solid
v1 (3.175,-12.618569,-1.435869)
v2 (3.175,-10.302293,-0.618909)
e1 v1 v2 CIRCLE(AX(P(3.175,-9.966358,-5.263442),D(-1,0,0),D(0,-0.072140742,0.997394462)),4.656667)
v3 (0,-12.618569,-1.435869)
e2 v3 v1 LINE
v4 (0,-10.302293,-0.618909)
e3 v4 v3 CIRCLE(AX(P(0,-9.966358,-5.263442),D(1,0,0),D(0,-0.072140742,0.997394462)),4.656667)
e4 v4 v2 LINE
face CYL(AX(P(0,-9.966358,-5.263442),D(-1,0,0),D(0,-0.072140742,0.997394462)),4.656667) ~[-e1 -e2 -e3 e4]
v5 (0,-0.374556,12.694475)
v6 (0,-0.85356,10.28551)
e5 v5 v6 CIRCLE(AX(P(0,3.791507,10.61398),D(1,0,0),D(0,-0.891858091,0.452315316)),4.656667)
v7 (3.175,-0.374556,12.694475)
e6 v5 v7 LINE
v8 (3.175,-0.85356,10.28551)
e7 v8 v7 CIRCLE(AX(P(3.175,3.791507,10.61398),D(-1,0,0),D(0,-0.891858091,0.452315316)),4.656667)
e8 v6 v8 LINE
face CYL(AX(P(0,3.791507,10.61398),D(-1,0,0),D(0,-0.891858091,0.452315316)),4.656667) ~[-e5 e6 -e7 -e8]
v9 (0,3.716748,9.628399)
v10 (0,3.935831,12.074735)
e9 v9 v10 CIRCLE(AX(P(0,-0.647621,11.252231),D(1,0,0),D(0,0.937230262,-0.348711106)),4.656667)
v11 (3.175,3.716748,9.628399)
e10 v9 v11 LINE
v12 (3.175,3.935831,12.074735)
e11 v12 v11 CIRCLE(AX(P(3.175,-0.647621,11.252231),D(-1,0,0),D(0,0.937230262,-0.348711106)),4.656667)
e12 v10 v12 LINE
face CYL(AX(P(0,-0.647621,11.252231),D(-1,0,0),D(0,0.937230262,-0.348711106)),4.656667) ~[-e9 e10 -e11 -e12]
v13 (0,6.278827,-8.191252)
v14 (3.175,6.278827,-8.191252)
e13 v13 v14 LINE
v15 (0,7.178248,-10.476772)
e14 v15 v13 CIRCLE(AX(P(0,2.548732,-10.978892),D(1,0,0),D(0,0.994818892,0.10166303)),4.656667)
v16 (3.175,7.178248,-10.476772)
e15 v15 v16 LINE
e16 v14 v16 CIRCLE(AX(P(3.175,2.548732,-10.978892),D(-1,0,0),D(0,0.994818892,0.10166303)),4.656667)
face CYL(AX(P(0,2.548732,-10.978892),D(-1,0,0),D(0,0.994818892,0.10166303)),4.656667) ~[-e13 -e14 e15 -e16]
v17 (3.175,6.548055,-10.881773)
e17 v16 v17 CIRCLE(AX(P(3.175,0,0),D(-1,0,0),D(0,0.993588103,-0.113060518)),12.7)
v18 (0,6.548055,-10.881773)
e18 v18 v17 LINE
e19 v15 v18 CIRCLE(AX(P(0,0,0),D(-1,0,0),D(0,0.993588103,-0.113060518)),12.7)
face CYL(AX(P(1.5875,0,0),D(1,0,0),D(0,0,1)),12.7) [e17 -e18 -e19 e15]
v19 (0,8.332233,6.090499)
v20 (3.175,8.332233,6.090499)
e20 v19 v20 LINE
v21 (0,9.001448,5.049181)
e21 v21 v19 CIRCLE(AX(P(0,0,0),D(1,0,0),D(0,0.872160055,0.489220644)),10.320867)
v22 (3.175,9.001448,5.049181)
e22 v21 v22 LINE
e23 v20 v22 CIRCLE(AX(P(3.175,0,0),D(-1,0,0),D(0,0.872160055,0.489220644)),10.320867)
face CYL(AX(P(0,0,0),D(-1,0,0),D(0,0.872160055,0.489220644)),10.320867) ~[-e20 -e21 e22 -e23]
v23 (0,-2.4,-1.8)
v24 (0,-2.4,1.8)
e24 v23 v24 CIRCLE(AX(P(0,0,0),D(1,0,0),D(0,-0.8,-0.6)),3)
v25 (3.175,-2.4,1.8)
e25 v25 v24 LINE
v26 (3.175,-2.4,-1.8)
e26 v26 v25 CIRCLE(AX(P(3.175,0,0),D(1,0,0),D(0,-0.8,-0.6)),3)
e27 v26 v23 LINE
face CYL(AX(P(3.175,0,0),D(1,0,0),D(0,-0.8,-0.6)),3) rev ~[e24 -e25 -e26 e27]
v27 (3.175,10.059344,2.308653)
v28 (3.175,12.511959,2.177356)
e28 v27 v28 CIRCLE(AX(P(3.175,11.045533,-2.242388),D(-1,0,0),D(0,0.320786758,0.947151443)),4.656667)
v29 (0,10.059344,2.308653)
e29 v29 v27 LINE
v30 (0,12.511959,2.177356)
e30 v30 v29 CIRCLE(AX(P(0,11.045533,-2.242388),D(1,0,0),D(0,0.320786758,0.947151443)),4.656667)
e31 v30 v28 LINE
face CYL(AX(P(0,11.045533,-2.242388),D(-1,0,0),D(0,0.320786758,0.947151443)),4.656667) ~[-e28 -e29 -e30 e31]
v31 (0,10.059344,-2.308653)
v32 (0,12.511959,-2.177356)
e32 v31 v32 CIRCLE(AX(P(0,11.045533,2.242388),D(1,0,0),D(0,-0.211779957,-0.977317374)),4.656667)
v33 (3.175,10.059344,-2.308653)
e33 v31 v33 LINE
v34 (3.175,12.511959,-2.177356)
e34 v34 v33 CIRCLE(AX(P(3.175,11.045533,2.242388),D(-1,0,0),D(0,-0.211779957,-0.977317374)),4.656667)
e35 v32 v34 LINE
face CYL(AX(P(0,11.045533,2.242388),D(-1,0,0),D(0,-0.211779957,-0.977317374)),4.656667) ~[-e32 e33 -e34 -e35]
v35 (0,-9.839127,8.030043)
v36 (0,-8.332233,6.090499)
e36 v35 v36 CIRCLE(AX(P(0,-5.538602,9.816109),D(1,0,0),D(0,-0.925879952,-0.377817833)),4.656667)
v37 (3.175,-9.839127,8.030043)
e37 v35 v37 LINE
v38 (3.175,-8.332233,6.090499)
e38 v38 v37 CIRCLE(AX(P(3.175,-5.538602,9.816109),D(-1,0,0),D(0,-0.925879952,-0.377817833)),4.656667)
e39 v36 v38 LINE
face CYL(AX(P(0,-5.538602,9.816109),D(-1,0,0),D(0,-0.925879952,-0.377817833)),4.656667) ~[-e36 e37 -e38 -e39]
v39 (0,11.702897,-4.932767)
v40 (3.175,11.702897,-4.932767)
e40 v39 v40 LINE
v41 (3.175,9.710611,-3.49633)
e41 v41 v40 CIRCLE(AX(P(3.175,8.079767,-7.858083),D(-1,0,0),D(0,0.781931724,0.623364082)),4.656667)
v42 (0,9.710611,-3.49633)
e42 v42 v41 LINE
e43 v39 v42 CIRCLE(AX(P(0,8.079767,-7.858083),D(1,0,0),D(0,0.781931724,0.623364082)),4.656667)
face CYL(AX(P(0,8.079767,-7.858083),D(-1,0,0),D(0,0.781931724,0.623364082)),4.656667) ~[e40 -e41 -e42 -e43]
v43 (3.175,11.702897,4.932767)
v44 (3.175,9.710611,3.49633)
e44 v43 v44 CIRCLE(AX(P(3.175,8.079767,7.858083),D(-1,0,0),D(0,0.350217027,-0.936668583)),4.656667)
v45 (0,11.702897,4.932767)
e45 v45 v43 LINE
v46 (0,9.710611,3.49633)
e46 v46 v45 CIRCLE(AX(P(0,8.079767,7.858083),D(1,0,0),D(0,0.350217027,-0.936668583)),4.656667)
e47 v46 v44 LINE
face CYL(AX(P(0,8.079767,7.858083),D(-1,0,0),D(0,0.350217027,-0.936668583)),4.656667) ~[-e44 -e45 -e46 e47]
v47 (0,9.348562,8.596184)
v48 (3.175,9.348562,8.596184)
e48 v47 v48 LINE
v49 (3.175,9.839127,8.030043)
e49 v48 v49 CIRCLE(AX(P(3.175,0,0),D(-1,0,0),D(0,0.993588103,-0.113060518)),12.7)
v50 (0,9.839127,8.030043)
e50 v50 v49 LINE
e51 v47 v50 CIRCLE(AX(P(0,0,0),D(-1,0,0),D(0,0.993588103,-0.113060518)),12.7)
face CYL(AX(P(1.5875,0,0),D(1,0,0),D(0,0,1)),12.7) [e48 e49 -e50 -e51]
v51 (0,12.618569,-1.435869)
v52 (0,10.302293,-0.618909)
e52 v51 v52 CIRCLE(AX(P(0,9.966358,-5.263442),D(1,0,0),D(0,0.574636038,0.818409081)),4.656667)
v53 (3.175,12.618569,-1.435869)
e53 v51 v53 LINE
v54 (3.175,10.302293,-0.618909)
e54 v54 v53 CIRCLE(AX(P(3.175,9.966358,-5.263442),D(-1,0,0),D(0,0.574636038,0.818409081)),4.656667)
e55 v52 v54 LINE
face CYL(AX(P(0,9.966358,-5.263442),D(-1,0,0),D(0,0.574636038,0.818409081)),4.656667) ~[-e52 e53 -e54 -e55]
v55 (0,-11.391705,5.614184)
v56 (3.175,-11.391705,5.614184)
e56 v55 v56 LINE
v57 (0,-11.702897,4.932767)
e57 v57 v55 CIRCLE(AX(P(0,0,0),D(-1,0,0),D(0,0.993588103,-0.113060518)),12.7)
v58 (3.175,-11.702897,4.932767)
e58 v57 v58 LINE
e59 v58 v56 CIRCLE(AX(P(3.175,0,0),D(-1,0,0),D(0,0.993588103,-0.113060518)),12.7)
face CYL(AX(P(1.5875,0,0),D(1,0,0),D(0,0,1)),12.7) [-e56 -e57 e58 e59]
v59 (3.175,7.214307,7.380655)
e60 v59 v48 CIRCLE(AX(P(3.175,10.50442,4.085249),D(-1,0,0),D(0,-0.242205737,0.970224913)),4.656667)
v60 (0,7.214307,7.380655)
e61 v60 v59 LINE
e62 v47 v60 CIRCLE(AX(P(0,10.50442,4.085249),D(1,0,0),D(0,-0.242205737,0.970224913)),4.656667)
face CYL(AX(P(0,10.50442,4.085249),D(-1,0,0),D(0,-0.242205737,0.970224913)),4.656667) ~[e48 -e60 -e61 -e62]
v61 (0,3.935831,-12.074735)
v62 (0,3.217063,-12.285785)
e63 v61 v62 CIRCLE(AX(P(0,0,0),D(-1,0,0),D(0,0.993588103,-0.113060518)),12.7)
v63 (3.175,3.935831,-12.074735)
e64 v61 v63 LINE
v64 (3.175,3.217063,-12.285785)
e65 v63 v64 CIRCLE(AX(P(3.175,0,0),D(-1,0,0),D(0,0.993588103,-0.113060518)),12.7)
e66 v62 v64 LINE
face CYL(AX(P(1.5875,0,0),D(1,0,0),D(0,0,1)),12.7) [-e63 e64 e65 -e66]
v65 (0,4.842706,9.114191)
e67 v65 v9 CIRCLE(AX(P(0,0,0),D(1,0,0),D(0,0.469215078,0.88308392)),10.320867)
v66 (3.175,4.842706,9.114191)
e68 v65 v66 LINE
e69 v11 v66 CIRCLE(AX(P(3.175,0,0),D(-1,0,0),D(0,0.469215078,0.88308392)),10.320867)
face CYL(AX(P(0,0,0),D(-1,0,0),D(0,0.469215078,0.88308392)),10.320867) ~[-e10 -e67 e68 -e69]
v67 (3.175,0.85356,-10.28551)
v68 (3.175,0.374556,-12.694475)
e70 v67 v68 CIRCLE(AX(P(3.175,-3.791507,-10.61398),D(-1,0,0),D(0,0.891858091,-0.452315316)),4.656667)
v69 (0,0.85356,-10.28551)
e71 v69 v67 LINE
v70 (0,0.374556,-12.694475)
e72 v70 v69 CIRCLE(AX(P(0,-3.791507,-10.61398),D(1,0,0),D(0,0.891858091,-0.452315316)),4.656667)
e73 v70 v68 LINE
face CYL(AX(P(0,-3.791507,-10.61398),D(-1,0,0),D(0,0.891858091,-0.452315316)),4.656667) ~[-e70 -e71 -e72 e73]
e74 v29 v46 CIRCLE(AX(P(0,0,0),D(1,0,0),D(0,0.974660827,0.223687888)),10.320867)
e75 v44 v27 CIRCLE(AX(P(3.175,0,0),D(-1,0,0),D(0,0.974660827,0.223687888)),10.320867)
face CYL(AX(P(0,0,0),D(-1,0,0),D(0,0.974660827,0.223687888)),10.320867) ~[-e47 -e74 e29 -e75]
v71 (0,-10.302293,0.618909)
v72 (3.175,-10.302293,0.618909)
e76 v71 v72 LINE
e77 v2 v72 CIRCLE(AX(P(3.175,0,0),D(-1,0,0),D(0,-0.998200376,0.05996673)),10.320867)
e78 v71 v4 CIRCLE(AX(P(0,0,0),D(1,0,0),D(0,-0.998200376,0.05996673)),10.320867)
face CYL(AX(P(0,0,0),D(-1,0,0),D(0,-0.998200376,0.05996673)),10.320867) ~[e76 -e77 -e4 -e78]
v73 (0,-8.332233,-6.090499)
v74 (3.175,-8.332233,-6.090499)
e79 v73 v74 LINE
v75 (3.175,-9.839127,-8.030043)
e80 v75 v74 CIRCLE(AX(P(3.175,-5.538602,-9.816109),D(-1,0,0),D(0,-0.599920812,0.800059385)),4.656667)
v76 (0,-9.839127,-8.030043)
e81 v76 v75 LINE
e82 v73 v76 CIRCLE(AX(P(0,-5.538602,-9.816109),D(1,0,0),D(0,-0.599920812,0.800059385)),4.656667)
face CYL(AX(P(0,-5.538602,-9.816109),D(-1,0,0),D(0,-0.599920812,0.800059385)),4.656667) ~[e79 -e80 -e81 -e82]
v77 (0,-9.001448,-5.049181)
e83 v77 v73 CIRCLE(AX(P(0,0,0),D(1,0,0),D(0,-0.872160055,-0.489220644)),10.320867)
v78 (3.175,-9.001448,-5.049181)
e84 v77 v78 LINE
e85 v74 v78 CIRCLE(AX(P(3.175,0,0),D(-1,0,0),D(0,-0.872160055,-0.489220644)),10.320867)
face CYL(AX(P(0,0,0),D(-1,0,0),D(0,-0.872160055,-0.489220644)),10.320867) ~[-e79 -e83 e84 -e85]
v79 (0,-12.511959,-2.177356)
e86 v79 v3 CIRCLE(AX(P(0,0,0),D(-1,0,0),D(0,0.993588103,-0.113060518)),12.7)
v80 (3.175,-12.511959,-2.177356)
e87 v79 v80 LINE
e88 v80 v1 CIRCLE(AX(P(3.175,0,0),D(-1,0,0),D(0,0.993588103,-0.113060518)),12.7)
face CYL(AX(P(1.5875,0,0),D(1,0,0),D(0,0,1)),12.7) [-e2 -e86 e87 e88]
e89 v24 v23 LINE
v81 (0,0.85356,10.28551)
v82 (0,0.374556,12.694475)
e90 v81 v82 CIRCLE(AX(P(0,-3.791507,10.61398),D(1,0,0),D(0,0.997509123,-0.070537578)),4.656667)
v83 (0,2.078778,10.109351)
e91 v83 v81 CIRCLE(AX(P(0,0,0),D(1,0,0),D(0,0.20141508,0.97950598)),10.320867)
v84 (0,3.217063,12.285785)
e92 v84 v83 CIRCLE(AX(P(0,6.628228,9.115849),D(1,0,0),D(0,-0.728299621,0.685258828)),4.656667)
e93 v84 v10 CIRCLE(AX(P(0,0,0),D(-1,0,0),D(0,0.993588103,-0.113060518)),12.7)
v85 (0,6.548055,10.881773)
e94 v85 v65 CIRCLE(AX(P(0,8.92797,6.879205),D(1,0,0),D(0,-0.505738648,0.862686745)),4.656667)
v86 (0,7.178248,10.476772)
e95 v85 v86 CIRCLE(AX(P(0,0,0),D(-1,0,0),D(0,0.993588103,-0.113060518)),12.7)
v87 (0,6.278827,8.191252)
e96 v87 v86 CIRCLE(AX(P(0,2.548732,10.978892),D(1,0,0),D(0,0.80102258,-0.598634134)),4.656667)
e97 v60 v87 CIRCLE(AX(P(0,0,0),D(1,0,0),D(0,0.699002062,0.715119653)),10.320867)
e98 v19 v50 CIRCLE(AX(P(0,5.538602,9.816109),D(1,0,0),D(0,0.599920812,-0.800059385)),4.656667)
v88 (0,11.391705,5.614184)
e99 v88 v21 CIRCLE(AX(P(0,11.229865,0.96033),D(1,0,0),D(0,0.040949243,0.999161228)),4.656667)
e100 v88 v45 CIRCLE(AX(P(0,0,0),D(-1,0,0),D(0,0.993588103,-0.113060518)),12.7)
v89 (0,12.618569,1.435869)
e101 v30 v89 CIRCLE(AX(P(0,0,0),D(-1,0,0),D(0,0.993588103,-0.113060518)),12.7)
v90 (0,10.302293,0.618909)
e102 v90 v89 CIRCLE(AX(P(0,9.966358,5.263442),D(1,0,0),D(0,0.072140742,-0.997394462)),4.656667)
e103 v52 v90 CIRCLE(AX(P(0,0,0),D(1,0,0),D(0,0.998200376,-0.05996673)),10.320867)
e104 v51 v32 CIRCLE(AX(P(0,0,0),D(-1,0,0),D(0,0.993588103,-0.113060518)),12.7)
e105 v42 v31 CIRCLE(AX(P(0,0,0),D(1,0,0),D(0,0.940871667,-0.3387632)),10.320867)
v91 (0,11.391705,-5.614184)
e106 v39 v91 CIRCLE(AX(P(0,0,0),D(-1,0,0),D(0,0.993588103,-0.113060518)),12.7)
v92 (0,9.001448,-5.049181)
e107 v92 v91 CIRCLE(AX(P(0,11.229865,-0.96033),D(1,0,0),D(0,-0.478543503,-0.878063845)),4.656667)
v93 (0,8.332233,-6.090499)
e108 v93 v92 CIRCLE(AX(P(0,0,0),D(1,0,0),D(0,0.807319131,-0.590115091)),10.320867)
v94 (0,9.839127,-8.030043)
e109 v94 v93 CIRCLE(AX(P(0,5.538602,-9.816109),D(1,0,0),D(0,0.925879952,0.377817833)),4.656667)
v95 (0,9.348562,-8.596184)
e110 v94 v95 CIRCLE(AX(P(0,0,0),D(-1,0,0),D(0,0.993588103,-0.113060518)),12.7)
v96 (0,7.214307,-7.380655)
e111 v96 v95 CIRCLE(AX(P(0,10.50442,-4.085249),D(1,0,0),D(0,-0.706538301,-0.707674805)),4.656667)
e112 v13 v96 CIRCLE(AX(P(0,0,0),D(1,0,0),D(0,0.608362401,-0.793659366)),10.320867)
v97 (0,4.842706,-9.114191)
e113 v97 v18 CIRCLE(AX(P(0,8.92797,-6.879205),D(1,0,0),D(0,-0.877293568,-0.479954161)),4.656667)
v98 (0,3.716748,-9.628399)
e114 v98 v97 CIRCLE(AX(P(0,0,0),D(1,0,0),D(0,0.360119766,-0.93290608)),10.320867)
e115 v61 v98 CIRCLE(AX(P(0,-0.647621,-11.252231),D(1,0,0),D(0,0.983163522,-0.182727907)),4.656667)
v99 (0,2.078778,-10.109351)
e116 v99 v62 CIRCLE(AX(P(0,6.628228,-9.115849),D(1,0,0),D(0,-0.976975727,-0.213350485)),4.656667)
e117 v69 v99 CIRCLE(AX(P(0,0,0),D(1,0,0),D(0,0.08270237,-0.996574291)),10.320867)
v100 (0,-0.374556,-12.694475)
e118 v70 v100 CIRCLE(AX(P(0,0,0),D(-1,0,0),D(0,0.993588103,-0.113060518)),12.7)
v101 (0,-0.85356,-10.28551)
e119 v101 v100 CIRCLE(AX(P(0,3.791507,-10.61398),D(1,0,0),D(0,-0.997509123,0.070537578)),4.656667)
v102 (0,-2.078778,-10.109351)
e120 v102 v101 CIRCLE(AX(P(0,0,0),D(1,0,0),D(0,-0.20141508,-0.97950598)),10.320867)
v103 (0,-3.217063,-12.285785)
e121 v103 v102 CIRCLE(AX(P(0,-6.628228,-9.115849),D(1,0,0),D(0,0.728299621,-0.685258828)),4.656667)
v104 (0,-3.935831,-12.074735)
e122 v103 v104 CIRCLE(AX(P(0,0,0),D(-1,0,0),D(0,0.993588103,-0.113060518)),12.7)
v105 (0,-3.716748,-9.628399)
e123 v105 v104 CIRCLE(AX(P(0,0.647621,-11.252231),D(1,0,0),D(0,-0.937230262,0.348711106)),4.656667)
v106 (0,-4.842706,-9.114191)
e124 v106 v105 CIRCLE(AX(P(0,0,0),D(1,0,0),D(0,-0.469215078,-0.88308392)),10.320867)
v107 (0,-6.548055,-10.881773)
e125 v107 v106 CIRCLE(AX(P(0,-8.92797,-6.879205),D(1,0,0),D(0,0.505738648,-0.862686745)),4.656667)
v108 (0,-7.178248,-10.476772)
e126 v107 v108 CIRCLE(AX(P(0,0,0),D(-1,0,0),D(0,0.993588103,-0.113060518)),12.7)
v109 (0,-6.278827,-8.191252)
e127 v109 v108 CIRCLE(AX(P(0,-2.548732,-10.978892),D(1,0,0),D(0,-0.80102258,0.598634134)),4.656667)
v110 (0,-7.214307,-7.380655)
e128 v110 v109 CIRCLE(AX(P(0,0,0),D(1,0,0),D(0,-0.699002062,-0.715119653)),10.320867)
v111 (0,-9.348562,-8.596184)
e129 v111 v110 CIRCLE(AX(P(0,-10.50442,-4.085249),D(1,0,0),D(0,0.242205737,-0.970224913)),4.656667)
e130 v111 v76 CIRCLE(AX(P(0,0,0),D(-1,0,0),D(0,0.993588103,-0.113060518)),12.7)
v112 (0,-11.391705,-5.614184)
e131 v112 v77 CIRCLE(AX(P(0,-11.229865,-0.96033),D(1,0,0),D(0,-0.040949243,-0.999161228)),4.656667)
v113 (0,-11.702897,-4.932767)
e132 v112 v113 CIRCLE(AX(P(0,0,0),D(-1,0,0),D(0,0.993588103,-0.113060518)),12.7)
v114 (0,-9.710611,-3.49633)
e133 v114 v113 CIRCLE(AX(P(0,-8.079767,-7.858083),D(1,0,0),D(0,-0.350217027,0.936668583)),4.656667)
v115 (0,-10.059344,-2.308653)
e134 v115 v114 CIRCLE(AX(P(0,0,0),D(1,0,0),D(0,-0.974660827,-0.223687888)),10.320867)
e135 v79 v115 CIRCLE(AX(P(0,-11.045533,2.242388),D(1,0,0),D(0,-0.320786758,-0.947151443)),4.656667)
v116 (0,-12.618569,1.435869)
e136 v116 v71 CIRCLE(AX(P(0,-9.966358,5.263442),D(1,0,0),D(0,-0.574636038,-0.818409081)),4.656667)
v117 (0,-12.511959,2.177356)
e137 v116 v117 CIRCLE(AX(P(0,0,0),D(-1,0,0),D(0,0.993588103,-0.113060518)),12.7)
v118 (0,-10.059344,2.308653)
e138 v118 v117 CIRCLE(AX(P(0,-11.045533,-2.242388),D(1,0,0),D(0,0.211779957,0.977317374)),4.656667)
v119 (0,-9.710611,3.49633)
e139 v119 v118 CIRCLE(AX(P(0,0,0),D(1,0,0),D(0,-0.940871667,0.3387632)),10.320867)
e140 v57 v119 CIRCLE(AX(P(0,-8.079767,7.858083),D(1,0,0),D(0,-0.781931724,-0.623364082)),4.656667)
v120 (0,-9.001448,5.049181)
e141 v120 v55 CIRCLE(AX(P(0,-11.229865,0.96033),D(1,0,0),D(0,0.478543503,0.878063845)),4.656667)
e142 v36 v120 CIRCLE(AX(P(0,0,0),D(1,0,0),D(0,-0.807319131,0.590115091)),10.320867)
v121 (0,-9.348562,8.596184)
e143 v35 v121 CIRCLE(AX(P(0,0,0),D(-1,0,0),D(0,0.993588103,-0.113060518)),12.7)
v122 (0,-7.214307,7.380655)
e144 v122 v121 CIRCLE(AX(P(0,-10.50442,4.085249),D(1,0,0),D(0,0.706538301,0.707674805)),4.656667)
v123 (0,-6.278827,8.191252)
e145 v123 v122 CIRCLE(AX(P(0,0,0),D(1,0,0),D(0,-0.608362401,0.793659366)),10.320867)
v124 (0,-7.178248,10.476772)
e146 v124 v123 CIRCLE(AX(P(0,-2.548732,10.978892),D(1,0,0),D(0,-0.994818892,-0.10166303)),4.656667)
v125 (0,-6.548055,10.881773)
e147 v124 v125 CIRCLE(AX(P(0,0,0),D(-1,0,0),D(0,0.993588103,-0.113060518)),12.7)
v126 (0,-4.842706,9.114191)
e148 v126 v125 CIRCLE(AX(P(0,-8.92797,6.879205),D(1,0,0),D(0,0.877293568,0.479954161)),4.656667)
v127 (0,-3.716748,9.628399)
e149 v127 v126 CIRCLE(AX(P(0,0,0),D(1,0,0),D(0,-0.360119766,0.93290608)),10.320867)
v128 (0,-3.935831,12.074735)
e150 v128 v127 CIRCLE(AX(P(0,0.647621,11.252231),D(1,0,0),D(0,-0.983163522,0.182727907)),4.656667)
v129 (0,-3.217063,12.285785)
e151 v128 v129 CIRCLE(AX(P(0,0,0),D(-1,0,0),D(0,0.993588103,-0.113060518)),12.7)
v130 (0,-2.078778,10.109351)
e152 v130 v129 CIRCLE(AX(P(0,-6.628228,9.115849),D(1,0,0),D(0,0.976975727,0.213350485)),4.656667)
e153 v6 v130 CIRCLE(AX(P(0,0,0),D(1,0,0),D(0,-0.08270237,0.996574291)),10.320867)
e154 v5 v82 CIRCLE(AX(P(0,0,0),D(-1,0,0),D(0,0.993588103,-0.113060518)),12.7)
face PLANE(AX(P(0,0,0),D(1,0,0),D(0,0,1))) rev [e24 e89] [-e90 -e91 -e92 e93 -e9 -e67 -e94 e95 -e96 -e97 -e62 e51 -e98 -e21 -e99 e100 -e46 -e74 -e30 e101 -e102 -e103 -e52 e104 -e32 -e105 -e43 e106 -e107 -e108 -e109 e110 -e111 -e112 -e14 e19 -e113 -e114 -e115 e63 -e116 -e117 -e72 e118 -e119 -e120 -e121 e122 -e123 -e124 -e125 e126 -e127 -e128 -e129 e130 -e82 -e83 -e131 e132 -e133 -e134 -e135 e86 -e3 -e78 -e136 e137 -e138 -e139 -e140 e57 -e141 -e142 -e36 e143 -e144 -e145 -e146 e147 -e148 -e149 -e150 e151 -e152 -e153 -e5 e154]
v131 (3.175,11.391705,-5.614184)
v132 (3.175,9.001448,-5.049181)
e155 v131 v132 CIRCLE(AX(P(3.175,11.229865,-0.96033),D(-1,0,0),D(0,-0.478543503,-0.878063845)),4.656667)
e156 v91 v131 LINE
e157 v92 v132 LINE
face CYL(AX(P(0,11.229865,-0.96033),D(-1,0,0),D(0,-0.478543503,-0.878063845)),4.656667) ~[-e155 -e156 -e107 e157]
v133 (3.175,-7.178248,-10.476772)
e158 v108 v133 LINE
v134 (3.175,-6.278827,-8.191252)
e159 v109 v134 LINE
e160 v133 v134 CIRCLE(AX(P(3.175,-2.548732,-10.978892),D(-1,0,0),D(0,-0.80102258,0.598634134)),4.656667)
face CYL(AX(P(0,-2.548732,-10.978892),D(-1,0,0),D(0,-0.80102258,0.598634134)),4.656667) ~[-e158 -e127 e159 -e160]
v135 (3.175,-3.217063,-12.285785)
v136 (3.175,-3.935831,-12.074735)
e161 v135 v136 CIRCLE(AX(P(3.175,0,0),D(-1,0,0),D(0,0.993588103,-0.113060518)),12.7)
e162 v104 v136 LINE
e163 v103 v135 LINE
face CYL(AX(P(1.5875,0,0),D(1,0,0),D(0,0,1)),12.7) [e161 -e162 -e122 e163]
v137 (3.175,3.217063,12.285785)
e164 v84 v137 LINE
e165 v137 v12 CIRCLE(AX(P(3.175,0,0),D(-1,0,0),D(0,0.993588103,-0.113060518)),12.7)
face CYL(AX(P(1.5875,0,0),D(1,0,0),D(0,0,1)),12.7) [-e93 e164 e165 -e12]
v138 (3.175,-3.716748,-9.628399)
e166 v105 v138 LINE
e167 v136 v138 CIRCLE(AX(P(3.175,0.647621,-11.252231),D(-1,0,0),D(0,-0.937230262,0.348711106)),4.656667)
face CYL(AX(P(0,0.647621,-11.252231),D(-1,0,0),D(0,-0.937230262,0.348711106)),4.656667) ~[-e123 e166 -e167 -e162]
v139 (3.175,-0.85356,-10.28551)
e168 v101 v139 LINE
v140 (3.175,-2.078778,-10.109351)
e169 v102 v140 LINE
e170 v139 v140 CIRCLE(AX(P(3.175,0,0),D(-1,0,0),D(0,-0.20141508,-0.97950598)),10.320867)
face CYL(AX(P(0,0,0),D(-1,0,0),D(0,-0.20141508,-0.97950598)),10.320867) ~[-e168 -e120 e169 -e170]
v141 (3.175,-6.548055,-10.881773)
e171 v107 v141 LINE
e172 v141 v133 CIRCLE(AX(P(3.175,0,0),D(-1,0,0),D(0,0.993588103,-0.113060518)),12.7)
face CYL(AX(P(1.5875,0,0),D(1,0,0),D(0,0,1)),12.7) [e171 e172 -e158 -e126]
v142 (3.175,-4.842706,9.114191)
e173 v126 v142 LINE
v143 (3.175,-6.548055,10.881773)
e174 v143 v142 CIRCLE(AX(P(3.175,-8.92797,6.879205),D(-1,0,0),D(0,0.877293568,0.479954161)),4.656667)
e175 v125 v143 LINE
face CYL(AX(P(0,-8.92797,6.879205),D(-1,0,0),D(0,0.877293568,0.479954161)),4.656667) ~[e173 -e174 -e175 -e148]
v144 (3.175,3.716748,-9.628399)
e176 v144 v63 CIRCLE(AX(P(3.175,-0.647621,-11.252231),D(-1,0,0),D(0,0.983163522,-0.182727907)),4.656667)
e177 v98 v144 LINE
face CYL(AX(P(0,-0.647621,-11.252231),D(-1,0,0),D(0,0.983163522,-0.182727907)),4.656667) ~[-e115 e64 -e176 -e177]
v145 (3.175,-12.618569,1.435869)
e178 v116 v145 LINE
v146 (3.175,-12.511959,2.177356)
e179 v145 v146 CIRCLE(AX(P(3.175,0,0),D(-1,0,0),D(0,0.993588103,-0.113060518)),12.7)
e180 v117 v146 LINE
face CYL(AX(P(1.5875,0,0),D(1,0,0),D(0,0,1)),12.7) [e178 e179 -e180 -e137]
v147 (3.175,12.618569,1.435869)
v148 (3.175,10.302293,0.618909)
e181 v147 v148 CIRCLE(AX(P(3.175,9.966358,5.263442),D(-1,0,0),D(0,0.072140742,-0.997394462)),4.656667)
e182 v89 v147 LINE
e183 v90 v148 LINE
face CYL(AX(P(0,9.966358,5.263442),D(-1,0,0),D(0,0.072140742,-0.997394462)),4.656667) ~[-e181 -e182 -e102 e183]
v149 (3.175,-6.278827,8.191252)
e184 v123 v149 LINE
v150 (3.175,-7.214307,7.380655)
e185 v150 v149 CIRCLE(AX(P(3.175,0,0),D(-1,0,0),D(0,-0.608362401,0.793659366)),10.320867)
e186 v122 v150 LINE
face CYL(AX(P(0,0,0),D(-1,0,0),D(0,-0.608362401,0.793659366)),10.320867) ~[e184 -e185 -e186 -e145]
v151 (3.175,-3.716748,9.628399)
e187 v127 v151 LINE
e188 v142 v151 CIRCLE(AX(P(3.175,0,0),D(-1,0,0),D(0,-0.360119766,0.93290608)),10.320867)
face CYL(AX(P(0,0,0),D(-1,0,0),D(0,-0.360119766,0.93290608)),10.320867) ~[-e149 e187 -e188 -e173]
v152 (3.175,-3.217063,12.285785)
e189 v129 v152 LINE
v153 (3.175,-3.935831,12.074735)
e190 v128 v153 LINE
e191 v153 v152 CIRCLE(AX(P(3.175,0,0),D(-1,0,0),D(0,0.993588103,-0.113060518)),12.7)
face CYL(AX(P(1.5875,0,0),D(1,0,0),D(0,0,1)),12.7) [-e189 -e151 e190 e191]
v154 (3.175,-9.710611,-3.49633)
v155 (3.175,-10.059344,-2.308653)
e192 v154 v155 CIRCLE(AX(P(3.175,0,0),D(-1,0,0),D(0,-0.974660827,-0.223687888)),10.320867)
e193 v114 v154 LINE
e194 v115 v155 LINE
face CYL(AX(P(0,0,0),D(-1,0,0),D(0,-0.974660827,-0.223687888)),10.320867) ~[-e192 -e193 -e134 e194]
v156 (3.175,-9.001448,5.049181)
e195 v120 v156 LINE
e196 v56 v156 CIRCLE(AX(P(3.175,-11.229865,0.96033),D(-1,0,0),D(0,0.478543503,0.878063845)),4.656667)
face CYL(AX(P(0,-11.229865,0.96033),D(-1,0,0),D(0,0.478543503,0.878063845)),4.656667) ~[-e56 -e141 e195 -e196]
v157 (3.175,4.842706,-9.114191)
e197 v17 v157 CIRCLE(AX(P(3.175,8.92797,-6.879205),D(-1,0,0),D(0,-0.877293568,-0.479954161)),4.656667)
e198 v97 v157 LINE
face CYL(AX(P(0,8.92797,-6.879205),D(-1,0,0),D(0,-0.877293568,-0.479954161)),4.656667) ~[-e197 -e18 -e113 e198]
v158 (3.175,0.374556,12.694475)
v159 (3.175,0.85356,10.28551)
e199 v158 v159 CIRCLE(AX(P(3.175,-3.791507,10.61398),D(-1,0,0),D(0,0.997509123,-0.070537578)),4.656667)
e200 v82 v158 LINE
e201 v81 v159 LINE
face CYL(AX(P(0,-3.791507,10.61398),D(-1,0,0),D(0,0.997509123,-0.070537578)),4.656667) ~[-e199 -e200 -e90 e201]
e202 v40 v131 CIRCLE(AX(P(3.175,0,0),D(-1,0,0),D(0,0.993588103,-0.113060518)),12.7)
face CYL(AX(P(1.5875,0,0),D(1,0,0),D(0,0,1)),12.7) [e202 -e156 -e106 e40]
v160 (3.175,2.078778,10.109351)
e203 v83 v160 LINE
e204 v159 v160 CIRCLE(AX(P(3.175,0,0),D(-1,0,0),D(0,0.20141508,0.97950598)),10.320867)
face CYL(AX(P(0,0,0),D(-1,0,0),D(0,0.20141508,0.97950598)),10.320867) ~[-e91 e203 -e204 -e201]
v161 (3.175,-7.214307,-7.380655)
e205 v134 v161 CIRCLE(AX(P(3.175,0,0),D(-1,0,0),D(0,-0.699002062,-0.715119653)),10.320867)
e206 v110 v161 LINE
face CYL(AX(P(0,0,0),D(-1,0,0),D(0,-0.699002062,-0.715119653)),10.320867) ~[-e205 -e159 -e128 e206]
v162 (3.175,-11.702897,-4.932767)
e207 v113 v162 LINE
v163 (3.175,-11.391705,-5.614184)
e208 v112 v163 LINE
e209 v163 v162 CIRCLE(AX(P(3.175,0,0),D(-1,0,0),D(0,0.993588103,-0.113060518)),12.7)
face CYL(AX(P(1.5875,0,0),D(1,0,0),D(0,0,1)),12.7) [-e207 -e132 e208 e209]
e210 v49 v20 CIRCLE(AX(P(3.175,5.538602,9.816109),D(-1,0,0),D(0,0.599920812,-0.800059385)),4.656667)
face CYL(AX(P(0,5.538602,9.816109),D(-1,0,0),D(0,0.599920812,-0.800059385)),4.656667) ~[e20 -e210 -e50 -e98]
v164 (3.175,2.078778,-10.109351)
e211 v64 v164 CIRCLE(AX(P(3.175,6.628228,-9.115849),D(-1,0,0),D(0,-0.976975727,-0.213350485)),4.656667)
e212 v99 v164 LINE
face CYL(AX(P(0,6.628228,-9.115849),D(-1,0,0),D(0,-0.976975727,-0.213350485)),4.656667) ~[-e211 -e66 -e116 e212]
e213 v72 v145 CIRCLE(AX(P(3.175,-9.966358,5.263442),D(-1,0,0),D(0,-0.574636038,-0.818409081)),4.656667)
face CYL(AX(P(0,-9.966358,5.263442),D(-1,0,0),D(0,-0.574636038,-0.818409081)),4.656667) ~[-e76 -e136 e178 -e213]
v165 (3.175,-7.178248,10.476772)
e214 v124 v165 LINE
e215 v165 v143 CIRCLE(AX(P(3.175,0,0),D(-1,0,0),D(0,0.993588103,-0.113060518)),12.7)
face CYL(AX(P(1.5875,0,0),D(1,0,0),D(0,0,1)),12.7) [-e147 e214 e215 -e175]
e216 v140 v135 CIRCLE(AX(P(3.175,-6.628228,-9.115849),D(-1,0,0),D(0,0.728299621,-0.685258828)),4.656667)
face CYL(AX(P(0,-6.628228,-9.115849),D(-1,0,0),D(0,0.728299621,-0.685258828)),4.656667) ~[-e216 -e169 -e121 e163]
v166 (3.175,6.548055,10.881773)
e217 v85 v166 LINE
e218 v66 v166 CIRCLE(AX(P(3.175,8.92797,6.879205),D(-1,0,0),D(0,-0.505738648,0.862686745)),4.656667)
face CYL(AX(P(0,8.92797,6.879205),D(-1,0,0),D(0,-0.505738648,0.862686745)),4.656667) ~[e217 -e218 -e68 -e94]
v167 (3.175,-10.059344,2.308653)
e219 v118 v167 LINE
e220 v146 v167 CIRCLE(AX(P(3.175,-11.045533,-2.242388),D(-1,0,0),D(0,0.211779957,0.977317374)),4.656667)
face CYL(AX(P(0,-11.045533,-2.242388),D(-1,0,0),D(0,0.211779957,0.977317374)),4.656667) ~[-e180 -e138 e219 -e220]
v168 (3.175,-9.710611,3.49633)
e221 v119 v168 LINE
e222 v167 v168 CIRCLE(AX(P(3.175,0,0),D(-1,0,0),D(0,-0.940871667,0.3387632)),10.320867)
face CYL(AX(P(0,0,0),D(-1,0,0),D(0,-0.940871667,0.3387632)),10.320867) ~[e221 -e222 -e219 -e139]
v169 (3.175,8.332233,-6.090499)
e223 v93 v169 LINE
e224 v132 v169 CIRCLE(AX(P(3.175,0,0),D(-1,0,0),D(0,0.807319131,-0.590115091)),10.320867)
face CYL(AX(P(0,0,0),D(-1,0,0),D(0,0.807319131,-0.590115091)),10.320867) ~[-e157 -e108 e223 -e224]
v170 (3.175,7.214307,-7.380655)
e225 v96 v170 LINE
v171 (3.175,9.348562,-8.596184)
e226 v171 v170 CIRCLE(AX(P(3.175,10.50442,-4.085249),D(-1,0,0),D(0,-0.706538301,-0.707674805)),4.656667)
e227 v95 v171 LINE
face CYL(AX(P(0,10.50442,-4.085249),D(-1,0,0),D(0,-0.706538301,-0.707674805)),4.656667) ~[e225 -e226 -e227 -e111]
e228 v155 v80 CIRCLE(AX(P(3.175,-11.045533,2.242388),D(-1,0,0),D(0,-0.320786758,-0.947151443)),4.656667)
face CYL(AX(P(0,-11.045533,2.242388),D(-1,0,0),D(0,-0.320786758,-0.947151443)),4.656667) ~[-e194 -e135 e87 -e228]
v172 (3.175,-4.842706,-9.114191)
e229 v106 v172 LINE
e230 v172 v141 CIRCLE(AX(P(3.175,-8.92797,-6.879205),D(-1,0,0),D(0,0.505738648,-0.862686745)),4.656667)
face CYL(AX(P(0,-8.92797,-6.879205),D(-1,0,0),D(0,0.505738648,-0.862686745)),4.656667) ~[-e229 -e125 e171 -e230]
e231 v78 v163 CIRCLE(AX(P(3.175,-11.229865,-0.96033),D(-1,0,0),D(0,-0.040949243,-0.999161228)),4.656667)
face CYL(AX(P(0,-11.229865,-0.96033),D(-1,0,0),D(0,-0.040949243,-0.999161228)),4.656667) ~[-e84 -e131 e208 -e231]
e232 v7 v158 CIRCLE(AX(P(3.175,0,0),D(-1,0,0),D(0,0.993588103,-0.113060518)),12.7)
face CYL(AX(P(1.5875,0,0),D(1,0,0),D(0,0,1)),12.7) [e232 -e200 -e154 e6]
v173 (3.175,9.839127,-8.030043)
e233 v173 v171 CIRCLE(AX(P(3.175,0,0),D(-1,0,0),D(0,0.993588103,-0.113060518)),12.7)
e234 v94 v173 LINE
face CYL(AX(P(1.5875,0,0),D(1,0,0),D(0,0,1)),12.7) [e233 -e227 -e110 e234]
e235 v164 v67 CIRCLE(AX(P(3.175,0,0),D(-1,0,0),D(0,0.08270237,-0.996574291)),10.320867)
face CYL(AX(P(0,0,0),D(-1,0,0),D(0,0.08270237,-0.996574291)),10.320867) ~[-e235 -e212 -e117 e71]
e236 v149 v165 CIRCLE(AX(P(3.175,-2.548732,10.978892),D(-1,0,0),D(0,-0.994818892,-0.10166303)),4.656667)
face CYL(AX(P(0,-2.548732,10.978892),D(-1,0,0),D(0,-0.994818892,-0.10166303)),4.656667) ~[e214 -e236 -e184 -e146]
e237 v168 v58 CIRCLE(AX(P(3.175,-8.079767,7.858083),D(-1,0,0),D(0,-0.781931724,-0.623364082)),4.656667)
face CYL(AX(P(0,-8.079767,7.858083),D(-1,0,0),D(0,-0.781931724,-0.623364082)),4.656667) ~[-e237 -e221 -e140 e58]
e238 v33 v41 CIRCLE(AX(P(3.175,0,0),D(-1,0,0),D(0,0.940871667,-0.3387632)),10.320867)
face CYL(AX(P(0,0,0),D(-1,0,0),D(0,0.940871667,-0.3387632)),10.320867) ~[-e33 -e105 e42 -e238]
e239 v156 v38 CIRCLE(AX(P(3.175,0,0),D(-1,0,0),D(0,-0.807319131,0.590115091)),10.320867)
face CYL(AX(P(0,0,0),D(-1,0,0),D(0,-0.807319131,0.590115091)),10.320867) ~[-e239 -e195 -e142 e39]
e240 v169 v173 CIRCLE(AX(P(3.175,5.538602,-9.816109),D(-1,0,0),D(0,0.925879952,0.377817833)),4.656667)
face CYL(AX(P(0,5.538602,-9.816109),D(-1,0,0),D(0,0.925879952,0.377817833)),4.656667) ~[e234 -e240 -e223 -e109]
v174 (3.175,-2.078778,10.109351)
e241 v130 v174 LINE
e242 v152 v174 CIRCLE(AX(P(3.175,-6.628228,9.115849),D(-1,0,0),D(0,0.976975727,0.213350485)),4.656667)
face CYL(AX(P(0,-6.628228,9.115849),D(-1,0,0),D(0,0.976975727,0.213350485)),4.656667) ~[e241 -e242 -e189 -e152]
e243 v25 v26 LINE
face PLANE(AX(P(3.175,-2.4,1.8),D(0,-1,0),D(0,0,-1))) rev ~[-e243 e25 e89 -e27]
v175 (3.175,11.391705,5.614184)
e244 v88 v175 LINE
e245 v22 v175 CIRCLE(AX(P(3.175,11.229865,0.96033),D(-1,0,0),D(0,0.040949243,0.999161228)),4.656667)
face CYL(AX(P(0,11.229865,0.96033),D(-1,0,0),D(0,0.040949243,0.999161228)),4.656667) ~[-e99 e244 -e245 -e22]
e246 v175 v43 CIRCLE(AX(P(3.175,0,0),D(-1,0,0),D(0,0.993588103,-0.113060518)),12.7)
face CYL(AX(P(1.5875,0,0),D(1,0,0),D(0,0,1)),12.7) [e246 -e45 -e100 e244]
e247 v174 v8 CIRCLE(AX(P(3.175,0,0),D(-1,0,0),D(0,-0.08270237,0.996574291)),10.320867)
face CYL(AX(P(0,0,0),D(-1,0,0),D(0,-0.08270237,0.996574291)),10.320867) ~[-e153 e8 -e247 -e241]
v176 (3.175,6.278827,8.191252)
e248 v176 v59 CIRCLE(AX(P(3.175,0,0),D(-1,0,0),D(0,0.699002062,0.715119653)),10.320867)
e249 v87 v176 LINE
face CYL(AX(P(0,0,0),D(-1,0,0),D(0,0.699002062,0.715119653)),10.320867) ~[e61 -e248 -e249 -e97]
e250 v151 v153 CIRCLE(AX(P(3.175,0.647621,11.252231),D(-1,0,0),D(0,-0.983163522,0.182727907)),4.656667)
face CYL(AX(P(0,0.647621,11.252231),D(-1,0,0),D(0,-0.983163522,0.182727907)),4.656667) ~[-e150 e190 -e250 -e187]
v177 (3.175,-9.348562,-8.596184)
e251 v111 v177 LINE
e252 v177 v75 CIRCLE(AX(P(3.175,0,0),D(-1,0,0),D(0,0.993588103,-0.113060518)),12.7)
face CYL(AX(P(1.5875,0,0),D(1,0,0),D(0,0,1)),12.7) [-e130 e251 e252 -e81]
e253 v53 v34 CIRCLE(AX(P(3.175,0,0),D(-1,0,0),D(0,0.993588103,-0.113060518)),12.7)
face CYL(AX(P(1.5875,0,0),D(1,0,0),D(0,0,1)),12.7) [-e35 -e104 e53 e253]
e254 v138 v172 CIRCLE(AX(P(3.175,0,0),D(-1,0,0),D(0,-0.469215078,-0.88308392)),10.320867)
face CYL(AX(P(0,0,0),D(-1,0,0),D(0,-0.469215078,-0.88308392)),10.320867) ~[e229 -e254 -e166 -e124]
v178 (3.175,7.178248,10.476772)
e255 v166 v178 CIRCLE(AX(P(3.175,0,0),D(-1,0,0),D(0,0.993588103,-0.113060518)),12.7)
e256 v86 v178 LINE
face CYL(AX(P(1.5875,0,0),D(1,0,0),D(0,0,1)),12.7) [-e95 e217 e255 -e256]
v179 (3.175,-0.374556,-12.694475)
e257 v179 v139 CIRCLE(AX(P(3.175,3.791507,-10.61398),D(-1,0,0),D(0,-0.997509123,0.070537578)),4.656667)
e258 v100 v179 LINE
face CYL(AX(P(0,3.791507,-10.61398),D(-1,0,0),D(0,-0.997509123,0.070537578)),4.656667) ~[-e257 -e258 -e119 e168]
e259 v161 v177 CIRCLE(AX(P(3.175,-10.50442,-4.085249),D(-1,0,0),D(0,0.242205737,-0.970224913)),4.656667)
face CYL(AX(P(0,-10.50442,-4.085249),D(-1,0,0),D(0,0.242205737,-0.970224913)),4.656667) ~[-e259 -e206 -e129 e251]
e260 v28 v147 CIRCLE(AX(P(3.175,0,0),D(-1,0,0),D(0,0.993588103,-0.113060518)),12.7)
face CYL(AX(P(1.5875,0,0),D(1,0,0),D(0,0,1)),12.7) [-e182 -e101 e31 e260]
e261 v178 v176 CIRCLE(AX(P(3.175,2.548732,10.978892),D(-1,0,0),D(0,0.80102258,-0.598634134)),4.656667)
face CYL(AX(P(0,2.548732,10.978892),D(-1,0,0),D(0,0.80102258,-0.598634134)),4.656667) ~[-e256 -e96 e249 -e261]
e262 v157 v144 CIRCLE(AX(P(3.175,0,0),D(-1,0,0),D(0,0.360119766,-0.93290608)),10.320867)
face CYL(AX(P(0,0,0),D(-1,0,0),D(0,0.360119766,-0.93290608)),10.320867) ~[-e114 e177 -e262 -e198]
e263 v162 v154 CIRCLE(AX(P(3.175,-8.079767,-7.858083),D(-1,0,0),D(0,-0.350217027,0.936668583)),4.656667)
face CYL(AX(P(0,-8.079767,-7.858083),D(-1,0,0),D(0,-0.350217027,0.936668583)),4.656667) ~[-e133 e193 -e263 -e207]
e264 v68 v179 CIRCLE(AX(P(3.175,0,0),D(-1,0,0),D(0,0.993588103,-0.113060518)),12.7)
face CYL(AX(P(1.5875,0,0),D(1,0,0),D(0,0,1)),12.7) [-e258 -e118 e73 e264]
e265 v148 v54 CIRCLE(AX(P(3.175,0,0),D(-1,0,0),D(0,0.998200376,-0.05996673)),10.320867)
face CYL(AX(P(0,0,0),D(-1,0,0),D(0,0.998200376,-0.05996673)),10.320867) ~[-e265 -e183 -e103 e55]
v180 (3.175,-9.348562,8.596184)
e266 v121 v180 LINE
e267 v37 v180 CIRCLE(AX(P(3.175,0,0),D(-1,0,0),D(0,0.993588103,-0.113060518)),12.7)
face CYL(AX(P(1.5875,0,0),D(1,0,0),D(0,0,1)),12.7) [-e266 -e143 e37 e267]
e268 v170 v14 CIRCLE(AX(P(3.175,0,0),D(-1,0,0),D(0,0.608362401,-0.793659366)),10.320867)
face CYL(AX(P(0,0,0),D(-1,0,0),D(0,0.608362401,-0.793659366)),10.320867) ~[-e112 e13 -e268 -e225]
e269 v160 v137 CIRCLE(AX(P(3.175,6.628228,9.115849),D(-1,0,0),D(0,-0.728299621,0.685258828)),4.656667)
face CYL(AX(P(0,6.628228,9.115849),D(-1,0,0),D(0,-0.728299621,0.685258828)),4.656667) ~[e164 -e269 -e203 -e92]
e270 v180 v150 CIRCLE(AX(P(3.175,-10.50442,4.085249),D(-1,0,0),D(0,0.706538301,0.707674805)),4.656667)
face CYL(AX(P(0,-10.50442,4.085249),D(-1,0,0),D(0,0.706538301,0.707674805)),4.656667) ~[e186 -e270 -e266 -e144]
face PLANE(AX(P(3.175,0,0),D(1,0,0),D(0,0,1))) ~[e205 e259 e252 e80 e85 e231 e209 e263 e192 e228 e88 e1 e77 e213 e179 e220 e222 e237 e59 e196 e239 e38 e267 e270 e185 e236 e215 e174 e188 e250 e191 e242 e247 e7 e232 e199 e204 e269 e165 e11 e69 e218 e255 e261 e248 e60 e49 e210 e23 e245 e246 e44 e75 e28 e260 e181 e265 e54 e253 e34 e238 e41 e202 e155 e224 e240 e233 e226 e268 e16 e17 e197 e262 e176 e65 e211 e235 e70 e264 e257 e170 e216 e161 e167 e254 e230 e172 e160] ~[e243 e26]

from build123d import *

# Parameters (mm, degrees)
BASPROSKE_W        = 3.175
BASPROSKE_H        = 12.7
TOOTHCUT_DEPTH     = 19.238986403
TEETHCUTS_COUNT    = 22
TEETHCUTS_ANGLE    = 343.636363636
CUT_EXTRUDE1_REACH = 20.182


with BuildPart() as part:
    # BasProSke → Base-Revolve (revolve)
    with BuildSketch(Plane(origin=(0, 0, 0), x_dir=(1, 0, 0), z_dir=(0, 1, 0)), mode=Mode.PRIVATE) as base_revolve_sk:
        with Locations((1.5875, 6.35)):
            Rectangle(BASPROSKE_W, BASPROSKE_H)
    revolve(base_revolve_sk.sketch.rotate(Axis((-10, 0, 0), (1, 0, 0)), 180), axis=Axis((-10, 0, 0), (1, 0, 0)))

    # TooCutSke → ToothCut (cut, through all)
    with BuildSketch(Plane(origin=(0, 0, 0), x_dir=(0, 0, -1), z_dir=(1, 0, 0))):
        with BuildLine():
            ThreePointArc((0.618908626, 10.302292991), (0, 10.320866667), (-0.618908626, 10.302292991))
            ThreePointArc((-0.618908626, 10.302292991), (-0.876745986, 11.528868728), (-1.452383887, 12.64224609))
            ThreePointArc((-1.452383887, 12.64224609), (0, 12.7254), (1.452383887, 12.64224609))
            ThreePointArc((1.452383887, 12.64224609), (0.876745986, 11.528868728), (0.618908626, 10.302292991))
        make_face()
    toothcut = extrude(amount=TOOTHCUT_DEPTH, mode=Mode.SUBTRACT)

    # TeethCuts: ToothCut ×22 about axis
    teethcuts_axis = Axis((-10, 0, 0), (1, 0, 0))
    for i in range(1, TEETHCUTS_COUNT):
        add(toothcut.rotate(teethcuts_axis, i * TEETHCUTS_ANGLE / (TEETHCUTS_COUNT - 1)), mode=Mode.SUBTRACT)

    # Sketch1 → Cut-Extrude1 (cut, up to next)
    with BuildSketch(Plane(origin=(3.175, 0, 0), x_dir=(0, 0, -1), z_dir=(1, 0, 0)), mode=Mode.PRIVATE) as cut_extrude1_sk1:
        with BuildLine():
            Line((-1.8, -2.4), (1.8, -2.4))
            ThreePointArc((1.8, -2.4), (0, 3), (-1.8, -2.4))
        make_face()
    cut_extrude1_tool1 = extrude(cut_extrude1_sk1.sketch, amount=-CUT_EXTRUDE1_REACH, mode=Mode.PRIVATE) & part.part
    add(cut_extrude1_tool1.solids().sort_by_distance((3.175, 0.145059, 0))[0], mode=Mode.SUBTRACT)


solid = part.part
